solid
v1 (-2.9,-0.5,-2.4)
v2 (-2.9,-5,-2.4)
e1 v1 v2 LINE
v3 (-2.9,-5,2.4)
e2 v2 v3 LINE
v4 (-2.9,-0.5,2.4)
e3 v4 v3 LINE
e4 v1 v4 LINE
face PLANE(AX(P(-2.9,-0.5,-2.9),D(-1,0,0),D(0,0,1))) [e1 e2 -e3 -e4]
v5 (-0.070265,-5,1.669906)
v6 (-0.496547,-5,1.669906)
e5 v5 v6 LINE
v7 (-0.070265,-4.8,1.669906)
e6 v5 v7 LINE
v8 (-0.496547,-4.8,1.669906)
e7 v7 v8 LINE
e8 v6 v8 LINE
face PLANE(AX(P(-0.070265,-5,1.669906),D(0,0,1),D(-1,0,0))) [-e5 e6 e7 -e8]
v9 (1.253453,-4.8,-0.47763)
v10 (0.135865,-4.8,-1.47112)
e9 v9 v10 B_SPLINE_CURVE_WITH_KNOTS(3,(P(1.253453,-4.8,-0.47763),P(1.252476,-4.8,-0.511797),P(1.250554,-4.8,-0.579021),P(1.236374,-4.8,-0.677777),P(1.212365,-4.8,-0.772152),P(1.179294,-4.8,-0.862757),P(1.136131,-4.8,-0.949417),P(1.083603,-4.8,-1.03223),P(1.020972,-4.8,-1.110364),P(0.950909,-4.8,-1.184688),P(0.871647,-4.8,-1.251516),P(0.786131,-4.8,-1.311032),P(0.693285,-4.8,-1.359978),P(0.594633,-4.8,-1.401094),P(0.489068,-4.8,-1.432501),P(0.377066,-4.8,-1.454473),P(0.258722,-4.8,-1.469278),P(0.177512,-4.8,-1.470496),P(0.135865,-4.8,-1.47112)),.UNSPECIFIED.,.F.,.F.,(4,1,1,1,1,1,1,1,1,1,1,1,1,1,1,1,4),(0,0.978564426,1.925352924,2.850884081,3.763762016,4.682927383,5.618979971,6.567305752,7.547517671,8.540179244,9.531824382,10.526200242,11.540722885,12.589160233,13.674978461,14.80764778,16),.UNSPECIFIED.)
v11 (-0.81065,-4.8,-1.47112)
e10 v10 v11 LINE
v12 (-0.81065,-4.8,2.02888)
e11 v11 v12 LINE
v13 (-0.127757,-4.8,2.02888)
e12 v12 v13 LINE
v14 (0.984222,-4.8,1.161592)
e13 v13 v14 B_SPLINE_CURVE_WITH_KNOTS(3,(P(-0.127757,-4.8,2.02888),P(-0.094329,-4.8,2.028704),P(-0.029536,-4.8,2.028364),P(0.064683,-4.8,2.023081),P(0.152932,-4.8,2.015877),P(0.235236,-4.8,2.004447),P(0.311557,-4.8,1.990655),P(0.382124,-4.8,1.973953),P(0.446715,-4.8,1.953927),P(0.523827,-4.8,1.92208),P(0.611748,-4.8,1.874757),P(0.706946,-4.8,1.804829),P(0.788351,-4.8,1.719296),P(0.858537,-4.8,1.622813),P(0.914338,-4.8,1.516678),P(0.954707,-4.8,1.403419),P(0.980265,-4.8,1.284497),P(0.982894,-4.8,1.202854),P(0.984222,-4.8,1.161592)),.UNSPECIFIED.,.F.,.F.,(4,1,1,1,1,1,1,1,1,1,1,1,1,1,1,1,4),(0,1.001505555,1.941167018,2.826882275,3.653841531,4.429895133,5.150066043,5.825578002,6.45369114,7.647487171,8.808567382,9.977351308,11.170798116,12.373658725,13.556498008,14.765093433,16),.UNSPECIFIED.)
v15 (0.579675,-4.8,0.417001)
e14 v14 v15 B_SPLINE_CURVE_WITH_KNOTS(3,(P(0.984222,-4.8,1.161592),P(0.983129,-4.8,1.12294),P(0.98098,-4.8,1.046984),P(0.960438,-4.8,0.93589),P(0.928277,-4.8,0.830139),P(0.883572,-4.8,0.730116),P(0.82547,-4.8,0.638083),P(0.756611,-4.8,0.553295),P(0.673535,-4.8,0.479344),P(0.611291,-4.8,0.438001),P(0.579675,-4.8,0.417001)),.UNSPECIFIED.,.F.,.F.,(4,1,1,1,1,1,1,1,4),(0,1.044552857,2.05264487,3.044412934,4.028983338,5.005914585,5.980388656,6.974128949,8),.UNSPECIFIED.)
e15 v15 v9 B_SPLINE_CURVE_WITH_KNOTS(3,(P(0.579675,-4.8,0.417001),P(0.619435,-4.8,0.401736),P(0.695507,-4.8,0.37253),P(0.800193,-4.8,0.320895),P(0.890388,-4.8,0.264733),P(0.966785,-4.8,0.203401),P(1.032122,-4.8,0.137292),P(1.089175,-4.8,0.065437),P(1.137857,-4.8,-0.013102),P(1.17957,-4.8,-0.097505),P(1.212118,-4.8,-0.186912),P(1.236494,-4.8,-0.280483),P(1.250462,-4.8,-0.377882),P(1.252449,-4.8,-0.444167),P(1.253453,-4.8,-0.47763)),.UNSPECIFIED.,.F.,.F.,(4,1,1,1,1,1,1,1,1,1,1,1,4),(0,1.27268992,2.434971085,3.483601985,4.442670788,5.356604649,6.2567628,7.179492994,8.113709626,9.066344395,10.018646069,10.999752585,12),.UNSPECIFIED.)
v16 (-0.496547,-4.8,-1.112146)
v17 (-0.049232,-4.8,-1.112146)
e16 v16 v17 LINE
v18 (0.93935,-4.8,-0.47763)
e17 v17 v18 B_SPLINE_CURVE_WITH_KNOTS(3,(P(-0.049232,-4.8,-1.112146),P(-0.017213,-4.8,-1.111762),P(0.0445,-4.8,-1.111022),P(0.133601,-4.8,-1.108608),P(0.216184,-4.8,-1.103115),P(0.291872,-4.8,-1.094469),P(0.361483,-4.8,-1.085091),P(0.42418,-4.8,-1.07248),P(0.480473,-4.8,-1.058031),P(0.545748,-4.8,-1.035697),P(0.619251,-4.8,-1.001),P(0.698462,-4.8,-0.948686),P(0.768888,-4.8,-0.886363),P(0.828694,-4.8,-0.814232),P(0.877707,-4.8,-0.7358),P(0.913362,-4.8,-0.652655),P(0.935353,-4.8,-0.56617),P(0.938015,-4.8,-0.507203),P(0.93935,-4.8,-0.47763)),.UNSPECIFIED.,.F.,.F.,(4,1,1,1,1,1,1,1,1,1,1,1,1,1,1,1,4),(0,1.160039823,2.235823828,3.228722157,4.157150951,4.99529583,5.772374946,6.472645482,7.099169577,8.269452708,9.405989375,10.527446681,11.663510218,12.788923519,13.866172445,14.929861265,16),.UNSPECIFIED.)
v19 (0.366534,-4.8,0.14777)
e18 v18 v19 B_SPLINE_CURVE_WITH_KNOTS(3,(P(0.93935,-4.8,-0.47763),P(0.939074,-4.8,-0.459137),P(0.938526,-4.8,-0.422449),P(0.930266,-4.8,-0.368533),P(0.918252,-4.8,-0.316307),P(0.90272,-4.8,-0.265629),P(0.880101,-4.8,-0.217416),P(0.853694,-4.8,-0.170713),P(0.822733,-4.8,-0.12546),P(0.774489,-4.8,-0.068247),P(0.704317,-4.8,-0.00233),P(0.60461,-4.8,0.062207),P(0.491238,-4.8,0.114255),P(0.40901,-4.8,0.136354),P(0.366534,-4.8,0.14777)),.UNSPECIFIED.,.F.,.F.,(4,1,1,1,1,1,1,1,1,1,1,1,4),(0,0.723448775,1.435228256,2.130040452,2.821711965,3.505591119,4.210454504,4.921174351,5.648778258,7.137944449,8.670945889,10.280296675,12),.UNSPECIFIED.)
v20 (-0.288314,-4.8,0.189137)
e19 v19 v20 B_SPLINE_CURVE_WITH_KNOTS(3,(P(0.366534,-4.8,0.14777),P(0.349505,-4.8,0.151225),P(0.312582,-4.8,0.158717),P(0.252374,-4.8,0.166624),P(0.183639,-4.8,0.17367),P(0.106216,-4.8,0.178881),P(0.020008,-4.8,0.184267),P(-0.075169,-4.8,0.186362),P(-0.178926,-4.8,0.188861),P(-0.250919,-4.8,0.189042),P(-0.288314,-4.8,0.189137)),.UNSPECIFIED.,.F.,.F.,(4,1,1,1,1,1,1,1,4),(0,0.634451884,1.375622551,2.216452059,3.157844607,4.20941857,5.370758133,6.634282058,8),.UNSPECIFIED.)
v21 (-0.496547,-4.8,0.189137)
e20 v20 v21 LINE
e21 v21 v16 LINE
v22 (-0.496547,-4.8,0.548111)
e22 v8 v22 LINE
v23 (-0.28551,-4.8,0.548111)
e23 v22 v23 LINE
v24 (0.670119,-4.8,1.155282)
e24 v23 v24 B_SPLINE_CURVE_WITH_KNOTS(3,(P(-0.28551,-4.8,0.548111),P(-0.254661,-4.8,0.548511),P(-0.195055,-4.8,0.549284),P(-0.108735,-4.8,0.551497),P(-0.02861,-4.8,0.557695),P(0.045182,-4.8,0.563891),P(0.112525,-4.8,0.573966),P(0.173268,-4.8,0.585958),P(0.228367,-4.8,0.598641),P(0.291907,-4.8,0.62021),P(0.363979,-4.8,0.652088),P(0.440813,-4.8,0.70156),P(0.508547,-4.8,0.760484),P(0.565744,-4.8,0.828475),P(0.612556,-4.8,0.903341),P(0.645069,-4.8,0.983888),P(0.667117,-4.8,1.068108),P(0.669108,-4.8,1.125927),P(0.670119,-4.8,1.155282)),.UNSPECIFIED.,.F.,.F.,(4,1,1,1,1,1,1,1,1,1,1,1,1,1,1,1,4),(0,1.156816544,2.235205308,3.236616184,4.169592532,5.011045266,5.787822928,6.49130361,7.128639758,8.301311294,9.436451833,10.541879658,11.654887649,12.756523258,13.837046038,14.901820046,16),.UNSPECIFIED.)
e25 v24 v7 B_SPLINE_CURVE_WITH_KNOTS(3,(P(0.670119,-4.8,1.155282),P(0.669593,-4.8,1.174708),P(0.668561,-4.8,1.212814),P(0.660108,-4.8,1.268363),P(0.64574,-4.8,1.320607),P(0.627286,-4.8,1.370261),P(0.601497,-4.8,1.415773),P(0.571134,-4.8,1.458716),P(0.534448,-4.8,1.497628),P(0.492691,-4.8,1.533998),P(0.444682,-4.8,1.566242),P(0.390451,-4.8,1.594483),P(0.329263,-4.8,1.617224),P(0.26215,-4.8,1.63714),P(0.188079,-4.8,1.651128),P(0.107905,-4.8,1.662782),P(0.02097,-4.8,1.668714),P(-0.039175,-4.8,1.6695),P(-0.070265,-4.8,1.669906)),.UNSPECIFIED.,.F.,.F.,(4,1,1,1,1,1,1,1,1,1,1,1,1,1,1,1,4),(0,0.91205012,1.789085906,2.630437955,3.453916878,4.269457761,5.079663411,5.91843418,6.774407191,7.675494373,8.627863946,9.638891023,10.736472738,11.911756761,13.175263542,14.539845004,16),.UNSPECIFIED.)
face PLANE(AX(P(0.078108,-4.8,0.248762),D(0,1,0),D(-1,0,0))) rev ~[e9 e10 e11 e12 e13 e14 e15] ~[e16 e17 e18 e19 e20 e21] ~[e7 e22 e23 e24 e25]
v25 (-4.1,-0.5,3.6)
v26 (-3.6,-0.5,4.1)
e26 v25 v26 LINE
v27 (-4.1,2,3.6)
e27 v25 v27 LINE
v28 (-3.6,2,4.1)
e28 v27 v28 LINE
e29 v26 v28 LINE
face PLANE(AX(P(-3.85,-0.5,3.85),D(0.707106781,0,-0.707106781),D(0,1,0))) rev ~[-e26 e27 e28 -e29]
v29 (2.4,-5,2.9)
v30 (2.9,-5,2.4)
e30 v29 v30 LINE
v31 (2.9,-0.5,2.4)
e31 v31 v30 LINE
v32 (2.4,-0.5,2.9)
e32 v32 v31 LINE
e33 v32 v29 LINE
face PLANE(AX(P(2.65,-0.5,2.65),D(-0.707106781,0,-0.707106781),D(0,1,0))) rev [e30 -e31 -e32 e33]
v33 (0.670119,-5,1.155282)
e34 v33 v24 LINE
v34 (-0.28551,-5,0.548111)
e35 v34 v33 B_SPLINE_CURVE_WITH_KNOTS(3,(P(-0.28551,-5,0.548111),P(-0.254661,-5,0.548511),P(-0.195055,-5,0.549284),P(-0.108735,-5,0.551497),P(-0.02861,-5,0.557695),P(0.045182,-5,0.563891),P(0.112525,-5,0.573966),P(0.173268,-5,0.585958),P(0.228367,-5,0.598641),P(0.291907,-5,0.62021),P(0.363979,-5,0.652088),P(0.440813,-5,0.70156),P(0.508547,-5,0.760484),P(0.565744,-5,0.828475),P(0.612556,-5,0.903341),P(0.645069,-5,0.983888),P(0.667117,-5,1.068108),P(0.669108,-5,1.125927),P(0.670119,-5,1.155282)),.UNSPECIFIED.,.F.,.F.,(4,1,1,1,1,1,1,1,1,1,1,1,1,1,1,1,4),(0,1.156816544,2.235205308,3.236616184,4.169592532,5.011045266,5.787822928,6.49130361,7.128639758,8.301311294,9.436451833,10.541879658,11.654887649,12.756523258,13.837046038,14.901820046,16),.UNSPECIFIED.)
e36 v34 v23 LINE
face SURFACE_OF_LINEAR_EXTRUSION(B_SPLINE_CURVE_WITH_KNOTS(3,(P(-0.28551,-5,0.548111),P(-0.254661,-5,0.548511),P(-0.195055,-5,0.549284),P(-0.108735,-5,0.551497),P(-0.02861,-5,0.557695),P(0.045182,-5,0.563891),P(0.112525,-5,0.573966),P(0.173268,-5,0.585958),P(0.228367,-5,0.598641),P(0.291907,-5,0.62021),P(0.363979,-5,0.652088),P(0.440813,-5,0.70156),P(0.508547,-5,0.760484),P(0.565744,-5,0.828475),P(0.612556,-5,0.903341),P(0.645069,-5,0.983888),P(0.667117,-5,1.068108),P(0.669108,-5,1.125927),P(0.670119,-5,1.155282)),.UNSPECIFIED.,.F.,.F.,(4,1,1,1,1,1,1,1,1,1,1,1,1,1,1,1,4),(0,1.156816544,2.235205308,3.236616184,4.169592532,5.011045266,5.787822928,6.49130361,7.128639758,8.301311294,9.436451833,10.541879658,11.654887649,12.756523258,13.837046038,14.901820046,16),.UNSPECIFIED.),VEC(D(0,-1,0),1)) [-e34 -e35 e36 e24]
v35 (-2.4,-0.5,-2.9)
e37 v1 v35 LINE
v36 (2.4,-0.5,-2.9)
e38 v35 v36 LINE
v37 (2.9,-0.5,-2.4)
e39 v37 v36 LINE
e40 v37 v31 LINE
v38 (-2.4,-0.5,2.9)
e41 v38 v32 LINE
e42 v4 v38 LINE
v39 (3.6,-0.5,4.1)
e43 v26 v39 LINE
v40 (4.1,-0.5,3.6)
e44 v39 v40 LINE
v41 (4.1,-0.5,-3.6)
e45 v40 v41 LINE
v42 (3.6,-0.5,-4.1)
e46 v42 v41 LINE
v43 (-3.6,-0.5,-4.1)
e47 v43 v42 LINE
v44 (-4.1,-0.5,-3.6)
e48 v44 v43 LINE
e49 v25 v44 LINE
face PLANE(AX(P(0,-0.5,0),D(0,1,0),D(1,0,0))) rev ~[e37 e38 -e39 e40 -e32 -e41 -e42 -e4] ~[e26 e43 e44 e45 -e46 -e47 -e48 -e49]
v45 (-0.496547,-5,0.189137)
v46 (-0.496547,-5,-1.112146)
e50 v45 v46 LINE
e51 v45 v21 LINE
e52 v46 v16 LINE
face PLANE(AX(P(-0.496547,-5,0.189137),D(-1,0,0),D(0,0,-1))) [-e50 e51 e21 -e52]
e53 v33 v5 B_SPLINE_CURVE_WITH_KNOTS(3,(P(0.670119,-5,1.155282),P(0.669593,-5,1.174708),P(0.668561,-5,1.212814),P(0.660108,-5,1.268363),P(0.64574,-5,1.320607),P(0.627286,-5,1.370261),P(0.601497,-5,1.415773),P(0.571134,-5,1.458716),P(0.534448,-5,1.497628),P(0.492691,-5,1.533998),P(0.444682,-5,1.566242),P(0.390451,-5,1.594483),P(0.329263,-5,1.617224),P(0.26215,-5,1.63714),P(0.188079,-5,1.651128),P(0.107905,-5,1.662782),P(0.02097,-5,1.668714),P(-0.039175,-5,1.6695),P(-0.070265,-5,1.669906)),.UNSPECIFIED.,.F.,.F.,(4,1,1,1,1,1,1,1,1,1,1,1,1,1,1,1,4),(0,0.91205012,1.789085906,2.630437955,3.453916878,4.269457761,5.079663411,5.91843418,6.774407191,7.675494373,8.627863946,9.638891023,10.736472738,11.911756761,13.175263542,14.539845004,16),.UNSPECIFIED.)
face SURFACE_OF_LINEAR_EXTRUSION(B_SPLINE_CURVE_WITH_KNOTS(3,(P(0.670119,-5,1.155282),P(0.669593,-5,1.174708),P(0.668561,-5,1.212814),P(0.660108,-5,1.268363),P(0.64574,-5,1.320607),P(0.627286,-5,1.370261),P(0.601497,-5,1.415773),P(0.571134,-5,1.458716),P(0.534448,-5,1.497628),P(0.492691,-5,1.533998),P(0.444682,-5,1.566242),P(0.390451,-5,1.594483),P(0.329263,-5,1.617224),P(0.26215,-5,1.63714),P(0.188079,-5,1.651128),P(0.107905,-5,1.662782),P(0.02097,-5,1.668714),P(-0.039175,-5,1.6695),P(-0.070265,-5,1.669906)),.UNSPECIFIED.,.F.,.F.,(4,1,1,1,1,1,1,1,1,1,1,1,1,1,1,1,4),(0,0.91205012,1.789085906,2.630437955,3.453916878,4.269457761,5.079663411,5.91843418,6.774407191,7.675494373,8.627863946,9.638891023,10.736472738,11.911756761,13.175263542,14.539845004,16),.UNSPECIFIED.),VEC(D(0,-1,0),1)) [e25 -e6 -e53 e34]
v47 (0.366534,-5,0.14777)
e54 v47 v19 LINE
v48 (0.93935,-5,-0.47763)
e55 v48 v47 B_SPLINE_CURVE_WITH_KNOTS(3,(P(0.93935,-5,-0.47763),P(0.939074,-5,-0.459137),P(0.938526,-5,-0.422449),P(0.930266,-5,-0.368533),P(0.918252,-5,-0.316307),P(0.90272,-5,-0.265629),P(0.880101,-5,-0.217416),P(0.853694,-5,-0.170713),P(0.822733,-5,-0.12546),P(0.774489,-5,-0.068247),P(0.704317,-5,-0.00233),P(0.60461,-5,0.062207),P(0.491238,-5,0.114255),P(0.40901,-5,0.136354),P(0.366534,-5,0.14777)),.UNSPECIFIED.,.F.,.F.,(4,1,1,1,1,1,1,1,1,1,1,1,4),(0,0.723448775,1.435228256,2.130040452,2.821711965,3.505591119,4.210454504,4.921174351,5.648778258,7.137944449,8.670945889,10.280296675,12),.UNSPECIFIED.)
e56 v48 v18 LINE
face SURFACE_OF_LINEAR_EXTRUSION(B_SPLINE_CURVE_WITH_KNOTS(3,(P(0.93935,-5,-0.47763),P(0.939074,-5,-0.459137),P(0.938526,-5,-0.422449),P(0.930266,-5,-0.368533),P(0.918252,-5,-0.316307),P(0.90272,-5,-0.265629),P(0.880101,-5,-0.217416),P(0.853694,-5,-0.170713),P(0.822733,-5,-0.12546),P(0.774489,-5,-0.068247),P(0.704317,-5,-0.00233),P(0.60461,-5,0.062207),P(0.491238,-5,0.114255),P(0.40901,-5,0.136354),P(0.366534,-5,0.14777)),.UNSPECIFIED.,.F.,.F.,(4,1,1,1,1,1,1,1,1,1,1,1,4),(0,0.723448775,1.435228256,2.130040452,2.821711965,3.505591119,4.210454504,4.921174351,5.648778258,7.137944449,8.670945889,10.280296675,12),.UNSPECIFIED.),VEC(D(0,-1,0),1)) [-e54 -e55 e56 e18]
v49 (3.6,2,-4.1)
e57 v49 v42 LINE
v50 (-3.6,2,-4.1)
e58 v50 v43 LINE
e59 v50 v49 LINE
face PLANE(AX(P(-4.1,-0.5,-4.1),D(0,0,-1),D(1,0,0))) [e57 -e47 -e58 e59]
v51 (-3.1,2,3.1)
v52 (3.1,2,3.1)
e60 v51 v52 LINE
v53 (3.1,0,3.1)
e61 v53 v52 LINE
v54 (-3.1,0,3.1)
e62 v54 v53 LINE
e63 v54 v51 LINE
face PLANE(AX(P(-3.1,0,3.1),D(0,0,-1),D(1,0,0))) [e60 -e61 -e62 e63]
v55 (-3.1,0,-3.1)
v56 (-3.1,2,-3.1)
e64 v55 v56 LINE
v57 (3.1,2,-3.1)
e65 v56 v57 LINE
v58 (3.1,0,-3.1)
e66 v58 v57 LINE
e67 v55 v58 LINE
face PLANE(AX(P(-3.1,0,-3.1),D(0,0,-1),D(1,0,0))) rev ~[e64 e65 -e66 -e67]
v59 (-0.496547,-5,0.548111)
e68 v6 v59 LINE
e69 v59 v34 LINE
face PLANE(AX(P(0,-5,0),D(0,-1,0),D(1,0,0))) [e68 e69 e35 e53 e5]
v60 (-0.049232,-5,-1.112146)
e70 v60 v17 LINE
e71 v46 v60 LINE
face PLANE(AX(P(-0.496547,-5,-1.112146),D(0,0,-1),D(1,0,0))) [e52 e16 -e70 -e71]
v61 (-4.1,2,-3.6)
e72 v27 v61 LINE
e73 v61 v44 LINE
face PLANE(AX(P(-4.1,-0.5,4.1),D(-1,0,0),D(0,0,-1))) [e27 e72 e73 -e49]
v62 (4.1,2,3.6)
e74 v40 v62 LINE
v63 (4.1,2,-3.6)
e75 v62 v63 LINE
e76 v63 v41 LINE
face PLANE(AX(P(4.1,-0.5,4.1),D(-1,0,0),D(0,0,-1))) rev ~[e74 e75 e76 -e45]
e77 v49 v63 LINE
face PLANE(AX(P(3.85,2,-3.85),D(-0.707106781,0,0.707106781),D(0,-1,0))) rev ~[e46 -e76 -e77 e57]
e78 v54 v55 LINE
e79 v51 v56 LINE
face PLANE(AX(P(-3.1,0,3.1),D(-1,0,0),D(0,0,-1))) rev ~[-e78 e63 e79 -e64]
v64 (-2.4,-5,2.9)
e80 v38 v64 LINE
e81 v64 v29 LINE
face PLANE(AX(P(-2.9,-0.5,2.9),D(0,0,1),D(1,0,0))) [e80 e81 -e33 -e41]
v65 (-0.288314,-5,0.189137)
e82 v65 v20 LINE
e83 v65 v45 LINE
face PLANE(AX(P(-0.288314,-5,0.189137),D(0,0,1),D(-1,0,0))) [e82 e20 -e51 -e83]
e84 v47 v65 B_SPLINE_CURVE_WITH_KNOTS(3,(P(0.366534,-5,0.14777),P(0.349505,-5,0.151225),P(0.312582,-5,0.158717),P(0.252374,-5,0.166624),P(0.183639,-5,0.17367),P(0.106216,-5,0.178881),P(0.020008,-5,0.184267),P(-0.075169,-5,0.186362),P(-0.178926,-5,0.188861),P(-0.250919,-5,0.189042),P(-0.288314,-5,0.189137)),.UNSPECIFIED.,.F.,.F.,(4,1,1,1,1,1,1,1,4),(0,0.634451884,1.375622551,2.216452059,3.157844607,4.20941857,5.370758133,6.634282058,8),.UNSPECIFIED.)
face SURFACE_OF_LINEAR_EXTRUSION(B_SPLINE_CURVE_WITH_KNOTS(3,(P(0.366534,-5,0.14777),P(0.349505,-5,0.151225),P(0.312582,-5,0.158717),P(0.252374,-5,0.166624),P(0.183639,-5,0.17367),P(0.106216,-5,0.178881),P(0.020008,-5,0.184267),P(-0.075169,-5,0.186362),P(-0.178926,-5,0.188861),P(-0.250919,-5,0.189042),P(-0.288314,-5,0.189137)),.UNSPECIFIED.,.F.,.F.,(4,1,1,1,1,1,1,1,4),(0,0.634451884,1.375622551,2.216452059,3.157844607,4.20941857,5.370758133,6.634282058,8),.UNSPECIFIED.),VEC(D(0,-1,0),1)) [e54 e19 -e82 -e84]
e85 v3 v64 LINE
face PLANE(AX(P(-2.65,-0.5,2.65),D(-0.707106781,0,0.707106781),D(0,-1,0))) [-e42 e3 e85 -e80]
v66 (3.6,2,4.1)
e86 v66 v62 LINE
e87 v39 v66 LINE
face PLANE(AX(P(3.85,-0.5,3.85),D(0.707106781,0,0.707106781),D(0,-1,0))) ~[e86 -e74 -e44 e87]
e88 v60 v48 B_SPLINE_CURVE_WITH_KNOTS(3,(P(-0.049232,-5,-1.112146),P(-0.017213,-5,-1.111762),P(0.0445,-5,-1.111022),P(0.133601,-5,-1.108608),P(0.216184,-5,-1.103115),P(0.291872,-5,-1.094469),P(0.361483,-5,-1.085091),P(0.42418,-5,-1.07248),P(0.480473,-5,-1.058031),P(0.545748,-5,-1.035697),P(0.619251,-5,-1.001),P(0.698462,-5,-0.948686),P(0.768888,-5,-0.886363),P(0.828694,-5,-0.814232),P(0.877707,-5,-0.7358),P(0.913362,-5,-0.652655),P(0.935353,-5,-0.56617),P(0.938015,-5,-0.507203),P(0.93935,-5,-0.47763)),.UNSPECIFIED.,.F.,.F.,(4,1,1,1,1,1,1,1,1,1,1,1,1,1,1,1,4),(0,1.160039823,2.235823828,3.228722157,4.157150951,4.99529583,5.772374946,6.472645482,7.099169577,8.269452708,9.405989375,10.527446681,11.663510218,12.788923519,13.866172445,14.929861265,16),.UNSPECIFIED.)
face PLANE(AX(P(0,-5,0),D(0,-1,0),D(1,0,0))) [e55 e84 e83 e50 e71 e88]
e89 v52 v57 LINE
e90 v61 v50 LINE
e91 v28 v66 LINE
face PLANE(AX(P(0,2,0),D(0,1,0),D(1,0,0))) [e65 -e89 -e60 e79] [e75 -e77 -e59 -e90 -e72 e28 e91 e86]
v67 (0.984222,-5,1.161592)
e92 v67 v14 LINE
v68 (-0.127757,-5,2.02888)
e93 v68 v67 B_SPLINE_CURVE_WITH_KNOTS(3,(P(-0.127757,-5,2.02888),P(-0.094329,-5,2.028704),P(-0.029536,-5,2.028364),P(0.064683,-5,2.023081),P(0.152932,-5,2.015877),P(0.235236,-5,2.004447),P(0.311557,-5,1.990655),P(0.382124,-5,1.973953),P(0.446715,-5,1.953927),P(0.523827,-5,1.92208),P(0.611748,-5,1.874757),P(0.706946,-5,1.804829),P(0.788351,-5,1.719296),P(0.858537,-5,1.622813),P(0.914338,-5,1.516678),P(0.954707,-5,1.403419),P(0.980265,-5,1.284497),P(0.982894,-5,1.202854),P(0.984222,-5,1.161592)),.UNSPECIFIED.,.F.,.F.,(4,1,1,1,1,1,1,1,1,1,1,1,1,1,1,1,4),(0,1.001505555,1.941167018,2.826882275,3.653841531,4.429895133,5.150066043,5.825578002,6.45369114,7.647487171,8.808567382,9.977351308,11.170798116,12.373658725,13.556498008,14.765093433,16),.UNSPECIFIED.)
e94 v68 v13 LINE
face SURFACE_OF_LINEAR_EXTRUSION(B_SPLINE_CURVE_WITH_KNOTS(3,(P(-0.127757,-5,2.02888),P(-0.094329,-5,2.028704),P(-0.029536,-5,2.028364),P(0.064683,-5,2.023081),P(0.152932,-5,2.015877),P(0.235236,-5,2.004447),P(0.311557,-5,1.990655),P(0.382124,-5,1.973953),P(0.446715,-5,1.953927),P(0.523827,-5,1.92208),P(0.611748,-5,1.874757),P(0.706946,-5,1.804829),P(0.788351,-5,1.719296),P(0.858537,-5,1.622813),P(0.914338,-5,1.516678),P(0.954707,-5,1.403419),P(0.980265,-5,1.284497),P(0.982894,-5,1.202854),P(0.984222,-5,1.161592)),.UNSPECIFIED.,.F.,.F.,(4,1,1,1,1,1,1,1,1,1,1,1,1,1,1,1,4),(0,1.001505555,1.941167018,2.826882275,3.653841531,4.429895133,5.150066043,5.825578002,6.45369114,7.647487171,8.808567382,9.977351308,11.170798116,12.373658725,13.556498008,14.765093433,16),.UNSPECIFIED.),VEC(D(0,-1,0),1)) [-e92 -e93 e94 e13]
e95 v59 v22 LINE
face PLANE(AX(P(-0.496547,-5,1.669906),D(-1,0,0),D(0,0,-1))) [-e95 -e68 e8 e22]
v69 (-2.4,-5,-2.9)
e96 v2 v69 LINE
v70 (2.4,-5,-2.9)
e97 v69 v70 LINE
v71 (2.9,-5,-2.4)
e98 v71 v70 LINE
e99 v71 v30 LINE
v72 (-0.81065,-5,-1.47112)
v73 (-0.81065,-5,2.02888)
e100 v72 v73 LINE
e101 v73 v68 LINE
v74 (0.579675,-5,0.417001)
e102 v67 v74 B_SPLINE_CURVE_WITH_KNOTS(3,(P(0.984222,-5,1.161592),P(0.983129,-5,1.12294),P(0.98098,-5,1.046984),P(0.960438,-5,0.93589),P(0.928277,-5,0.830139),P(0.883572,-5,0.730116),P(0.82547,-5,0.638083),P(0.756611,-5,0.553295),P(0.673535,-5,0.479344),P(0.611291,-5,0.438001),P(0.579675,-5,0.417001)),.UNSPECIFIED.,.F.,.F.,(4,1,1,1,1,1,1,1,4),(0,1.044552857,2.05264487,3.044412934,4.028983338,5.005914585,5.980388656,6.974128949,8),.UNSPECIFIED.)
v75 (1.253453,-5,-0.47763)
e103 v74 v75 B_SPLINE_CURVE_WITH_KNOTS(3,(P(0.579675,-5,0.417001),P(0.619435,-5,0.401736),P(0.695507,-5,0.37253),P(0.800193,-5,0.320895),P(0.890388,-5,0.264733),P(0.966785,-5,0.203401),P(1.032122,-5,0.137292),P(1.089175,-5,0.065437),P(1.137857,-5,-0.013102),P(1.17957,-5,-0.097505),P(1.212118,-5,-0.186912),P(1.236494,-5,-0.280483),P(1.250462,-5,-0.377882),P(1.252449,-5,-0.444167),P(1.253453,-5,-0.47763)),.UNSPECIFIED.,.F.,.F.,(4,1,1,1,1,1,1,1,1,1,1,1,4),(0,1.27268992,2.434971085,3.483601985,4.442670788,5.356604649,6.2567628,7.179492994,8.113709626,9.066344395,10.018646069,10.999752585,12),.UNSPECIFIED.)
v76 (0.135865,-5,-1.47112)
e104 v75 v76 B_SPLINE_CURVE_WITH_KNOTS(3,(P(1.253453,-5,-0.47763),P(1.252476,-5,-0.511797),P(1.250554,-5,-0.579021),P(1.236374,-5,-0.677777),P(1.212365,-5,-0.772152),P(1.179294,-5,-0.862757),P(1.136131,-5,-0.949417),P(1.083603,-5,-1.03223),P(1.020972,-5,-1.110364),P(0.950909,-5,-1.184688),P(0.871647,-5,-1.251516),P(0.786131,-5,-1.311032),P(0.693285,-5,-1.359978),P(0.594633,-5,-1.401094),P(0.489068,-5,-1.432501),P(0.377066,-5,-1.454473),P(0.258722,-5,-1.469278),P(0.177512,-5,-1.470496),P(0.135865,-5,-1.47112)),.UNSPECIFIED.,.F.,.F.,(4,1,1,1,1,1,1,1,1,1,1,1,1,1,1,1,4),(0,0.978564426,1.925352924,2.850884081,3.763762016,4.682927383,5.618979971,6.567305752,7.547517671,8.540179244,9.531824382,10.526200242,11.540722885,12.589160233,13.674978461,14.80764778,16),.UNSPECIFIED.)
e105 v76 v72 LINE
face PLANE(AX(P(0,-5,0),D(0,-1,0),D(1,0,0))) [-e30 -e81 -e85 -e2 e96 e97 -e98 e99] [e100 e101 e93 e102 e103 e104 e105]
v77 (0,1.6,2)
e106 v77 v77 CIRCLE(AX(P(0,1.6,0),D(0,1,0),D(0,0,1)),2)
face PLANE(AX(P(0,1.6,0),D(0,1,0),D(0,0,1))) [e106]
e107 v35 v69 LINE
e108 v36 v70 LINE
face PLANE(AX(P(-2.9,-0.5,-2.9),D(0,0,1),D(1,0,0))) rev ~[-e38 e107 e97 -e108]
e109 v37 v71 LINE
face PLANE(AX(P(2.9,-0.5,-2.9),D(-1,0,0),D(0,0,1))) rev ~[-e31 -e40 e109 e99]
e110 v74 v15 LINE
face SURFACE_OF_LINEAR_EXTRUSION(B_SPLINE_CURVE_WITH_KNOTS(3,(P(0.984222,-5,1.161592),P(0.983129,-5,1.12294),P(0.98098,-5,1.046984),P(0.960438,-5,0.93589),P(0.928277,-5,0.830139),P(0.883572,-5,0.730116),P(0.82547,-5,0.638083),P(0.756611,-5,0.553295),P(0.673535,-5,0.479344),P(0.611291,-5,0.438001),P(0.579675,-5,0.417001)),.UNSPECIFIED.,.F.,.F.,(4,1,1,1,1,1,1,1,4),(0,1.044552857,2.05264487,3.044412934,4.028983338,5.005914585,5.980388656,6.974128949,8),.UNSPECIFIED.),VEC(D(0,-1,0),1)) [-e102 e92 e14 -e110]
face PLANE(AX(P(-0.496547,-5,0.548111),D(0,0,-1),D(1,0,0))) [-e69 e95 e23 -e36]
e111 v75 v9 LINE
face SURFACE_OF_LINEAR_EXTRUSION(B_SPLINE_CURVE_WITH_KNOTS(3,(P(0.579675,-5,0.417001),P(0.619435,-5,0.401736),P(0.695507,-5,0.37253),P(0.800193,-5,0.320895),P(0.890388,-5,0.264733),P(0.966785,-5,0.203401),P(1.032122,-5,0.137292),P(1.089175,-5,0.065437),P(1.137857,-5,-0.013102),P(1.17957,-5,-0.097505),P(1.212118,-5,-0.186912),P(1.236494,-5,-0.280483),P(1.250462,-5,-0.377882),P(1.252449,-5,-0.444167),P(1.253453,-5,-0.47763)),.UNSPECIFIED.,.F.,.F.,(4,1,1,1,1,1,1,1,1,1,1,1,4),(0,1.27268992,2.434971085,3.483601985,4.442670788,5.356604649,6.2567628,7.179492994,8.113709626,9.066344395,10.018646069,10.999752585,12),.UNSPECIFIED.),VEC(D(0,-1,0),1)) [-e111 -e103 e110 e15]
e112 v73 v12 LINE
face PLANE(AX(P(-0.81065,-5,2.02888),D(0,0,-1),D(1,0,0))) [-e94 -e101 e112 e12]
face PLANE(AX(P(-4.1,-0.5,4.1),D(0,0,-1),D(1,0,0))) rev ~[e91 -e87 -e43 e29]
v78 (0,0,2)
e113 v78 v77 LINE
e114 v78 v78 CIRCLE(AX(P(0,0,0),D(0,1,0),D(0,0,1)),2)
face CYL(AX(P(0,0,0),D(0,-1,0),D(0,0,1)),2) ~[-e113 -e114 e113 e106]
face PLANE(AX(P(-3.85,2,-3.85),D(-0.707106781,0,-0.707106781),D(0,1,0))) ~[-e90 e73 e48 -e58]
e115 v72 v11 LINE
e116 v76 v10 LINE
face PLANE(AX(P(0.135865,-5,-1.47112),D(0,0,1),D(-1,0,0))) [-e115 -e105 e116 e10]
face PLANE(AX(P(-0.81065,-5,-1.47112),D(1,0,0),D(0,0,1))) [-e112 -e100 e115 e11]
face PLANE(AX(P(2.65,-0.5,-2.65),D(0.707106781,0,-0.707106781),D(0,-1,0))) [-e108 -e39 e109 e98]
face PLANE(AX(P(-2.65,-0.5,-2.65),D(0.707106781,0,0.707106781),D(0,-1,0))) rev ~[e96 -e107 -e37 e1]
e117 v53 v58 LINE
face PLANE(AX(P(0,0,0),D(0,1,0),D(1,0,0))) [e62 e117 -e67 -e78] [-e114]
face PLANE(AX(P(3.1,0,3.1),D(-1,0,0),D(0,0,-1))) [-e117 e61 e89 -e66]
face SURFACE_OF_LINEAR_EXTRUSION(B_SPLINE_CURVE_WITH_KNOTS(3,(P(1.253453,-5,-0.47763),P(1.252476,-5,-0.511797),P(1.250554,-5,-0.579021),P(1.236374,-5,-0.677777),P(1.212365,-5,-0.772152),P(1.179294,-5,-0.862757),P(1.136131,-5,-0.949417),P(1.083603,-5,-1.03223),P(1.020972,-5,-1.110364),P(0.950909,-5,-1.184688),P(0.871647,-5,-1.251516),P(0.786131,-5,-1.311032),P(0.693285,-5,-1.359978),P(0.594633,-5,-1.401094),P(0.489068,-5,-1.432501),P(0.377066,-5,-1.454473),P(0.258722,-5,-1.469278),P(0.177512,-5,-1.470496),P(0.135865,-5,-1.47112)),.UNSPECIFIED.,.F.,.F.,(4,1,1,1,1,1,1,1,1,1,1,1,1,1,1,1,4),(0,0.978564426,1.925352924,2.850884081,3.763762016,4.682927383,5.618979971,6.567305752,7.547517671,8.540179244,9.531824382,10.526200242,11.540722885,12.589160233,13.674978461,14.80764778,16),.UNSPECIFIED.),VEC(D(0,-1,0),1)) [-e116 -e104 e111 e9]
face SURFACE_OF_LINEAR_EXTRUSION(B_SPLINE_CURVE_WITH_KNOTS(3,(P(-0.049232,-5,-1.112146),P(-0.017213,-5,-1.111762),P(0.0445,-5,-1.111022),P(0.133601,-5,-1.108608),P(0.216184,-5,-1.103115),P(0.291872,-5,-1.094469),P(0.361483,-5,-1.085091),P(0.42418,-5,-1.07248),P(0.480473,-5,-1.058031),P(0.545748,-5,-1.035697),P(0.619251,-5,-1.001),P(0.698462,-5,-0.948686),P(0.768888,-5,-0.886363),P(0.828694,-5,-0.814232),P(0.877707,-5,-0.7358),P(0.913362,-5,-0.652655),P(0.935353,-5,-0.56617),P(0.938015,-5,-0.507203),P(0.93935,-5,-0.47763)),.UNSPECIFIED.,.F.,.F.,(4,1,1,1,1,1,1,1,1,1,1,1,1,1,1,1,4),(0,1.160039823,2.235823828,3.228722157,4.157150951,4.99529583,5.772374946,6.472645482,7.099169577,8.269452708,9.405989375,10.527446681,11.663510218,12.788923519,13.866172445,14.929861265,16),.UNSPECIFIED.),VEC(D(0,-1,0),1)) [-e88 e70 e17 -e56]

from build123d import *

# Parameters (mm, degrees)
SKETCH1_R           = 2
BOSS_EXTRUDE1_DEPTH = 1.6
SKETCH1_3_W         = 8.2
SKETCH1_3_H         = 8.2
SKETCH1_3_W_2       = 6.2
SKETCH1_3_H_2       = 6.2
BOSS_EXTRUDE2_DEPTH = 2
SKETCH1_4_W         = 8.2
SKETCH1_4_H         = 8.2
BOSS_EXTRUDE3_DEPTH = 0.5
SKETCH3_W           = 5.8
SKETCH3_H           = 5.8
BOSS_EXTRUDE4_DEPTH = 4.5
CHAMFER1_SIZE       = 0.5
CUT_EXTRUDE1_DEPTH  = 0.2


with BuildPart() as part:
    # Sketch1 → Boss-Extrude1 (new body)
    with BuildSketch(Plane(origin=(0, 0, 0), x_dir=(1, 0, 0), z_dir=(0, 1, 0))):
        Circle(SKETCH1_R)
    extrude(amount=BOSS_EXTRUDE1_DEPTH)



with BuildPart() as body_2:
    # Sketch1<3> → Boss-Extrude2 (new body)
    with BuildSketch(Plane(origin=(0, 0, 0), x_dir=(1, 0, 0), z_dir=(0, 1, 0))):
        Rectangle(SKETCH1_3_W, SKETCH1_3_H)
        Rectangle(SKETCH1_3_W_2, SKETCH1_3_H_2, mode=Mode.SUBTRACT)
    extrude(amount=BOSS_EXTRUDE2_DEPTH)


with BuildPart() as part_1:
    add(part.part)

    add(body_2.part)  # Boss-Extrude3 merges body 2
    # Sketch1<4> → Boss-Extrude3 (add)
    with BuildSketch(Plane(origin=(0, 0, 0), x_dir=(1, 0, 0), z_dir=(0, 1, 0))):
        Rectangle(SKETCH1_4_W, SKETCH1_4_H)
    extrude(amount=-BOSS_EXTRUDE3_DEPTH)

    # Sketch3 → Boss-Extrude4 (add)
    with BuildSketch(Plane.XZ.offset(0.5)):
        Rectangle(SKETCH3_W, SKETCH3_H)
    extrude(amount=BOSS_EXTRUDE4_DEPTH)

    # Chamfer1
    chamfer1_edges = [part_1.edges().sort_by_distance(p)[0] for p in [
        (-4.1, 0.75, -4.1),
        (4.1, 0.75, -4.1),
        (-4.1, 0.75, 4.1),
        (4.1, 0.75, 4.1),
        (-2.9, -2.75, 2.9),
        (2.9, -2.75, 2.9),
        (-2.9, -2.75, -2.9),
        (2.9, -2.75, -2.9),
    ]]
    chamfer(chamfer1_edges, length=CHAMFER1_SIZE)

    # Sketch4 → Cut-Extrude1 (cut)
    with BuildSketch(Plane.XZ.offset(5)):
        with BuildLine():
            Line((-0.810649843, 2.028880102), (-0.127757215, 2.028880102))
            add(Edge.make_bspline(
                [(-0.127757215, 2.028880102), (-0.094328737, 2.028704351), (-0.029536026, 2.028363703), (0.064683416, 2.023080572), (0.152932226, 2.015876902), (0.235235999, 2.00444681), (0.311556701, 1.990655032), (0.382124338, 1.973953216), (0.44671451, 1.953926603), (0.523827247, 1.922080321), (0.611747908, 1.874757153), (0.7069463, 1.804828588), (0.78835054, 1.719296125), (0.858536857, 1.622813469), (0.914337977, 1.516677698), (0.954707274, 1.403418509), (0.980265149, 1.284496767), (0.982893584, 1.202853589), (0.984221952, 1.161592441)],
                knots=[0, 0, 0, 0, 1.001505555, 1.941167018, 2.826882275, 3.653841531, 4.429895133, 5.150066043, 5.825578002, 6.45369114, 7.647487171, 8.808567382, 9.977351308, 11.170798116, 12.373658725, 13.556498008, 14.765093433, 16, 16, 16, 16], degree=3))
            add(Edge.make_bspline(
                [(0.984221952, 1.161592441), (0.983128733, 1.122939886), (0.980980456, 1.046983969), (0.960437697, 0.935889859), (0.928277028, 0.830138641), (0.883571779, 0.730116255), (0.825469783, 0.638082642), (0.756611464, 0.553295376), (0.673534662, 0.479344319), (0.611291422, 0.438001416), (0.579674676, 0.417001095)],
                knots=[0, 0, 0, 0, 1.044552857, 2.05264487, 3.044412934, 4.028983338, 5.005914585, 5.980388656, 6.974128949, 8, 8, 8, 8], degree=3))
            add(Edge.make_bspline(
                [(0.579674676, 0.417001095), (0.619435104, 0.401736096), (0.695506651, 0.372530372), (0.800192664, 0.320894908), (0.890387509, 0.264732798), (0.966784655, 0.203400947), (1.03212231, 0.137292137), (1.089175251, 0.065437022), (1.137856625, -0.013101736), (1.179569549, -0.097505271), (1.212118305, -0.186911739), (1.236494209, -0.280482515), (1.250461658, -0.377882071), (1.2524493, -0.44416745), (1.253452721, -0.477630315)],
                knots=[0, 0, 0, 0, 1.27268992, 2.434971085, 3.483601985, 4.442670788, 5.356604649, 6.2567628, 7.179492994, 8.113709626, 9.066344395, 10.018646069, 10.999752585, 12, 12, 12, 12], degree=3))
            add(Edge.make_bspline(
                [(1.253452721, -0.477630315), (1.252475875, -0.511797187), (1.250553903, -0.579021465), (1.236373931, -0.6777766), (1.212364824, -0.772151546), (1.179293678, -0.862756729), (1.136131363, -0.949416864), (1.083603399, -1.032230128), (1.020971835, -1.110364458), (0.950908966, -1.184688081), (0.871646821, -1.251515869), (0.786131066, -1.311031575), (0.693284746, -1.359977637), (0.594632752, -1.401093659), (0.489068436, -1.432500857), (0.377065829, -1.454473431), (0.258721527, -1.469278468), (0.177511776, -1.470495673), (0.13586458, -1.471119898)],
                knots=[0, 0, 0, 0, 0.978564426, 1.925352924, 2.850884081, 3.763762016, 4.682927383, 5.618979971, 6.567305752, 7.547517671, 8.540179244, 9.531824382, 10.526200242, 11.540722885, 12.589160233, 13.674978461, 14.80764778, 16, 16, 16, 16], degree=3))
            Line((0.13586458, -1.471119898), (-0.810649843, -1.471119898))
            Line((-0.810649843, -1.471119898), (-0.810649843, 2.028880102))
        make_face()
        with BuildLine():
            Line((-0.496547279, 1.669905743), (-0.496547279, 0.548110871))
            Line((-0.496547279, 0.548110871), (-0.285509619, 0.548110871))
            add(Edge.make_bspline(
                [(-0.285509619, 0.548110871), (-0.254660823, 0.548510794), (-0.195054664, 0.549283527), (-0.108734767, 0.551497044), (-0.028609749, 0.557695087), (0.045182084, 0.563891349), (0.112524528, 0.573965937), (0.173268389, 0.58595806), (0.228366986, 0.598640965), (0.291906532, 0.620210452), (0.36397948, 0.652088127), (0.440812584, 0.701559963), (0.508547054, 0.760484316), (0.565744242, 0.828475278), (0.612555712, 0.903341464), (0.645069427, 0.983888344), (0.667116712, 1.068108476), (0.669108243, 1.125926729), (0.670119388, 1.155282345)],
                knots=[0, 0, 0, 0, 1.156816544, 2.235205308, 3.236616184, 4.169592532, 5.011045266, 5.787822928, 6.49130361, 7.128639758, 8.301311294, 9.436451833, 10.541879658, 11.654887649, 12.756523258, 13.837046038, 14.901820046, 16, 16, 16, 16], degree=3))
            add(Edge.make_bspline(
                [(0.670119388, 1.155282345), (0.669593208, 1.174708117), (0.668561048, 1.212813889), (0.660107745, 1.268363243), (0.645740171, 1.320606996), (0.627285877, 1.370261106), (0.601497189, 1.415772956), (0.571133725, 1.458716152), (0.534448035, 1.49762827), (0.492690722, 1.533997769), (0.4446821, 1.566242296), (0.390450808, 1.59448306), (0.329263131, 1.617223836), (0.262150276, 1.637139989), (0.188079188, 1.651128283), (0.107904635, 1.66278167), (0.020969916, 1.668714412), (-0.039175187, 1.669499775), (-0.070265228, 1.669905743)],
                knots=[0, 0, 0, 0, 0.91205012, 1.789085906, 2.630437955, 3.453916878, 4.269457761, 5.079663411, 5.91843418, 6.774407191, 7.675494373, 8.627863946, 9.638891023, 10.736472738, 11.911756761, 13.175263542, 14.539845004, 16, 16, 16, 16], degree=3))
            Line((-0.070265228, 1.669905743), (-0.496547279, 1.669905743))
        make_face(mode=Mode.SUBTRACT)
        with BuildLine():
            Line((-0.496547279, 0.189136512), (-0.496547279, -1.112145539))
            Line((-0.496547279, -1.112145539), (-0.049231574, -1.112145539))
            add(Edge.make_bspline(
                [(-0.049231574, -1.112145539), (-0.017212648, -1.111761792), (0.044499611, -1.111022169), (0.133600841, -1.108607615), (0.216183945, -1.103115339), (0.29187208, -1.09446949), (0.361482533, -1.08509104), (0.424180236, -1.072479759), (0.480473429, -1.058030799), (0.545747737, -1.035696627), (0.619251245, -1.001000156), (0.698462102, -0.948685929), (0.76888832, -0.886362622), (0.828693579, -0.814231707), (0.877706568, -0.73580038), (0.913362023, -0.65265503), (0.93535288, -0.566169503), (0.938015049, -0.507202791), (0.939350157, -0.477630315)],
                knots=[0, 0, 0, 0, 1.160039823, 2.235823828, 3.228722157, 4.157150951, 4.99529583, 5.772374946, 6.472645482, 7.099169577, 8.269452708, 9.405989375, 10.527446681, 11.663510218, 12.788923519, 13.866172445, 14.929861265, 16, 16, 16, 16], degree=3))
            add(Edge.make_bspline(
                [(0.939350157, -0.477630315), (0.939074053, -0.459136974), (0.938526298, -0.422448593), (0.930265683, -0.368532773), (0.918251813, -0.3163069), (0.902720379, -0.26562916), (0.880100912, -0.217415783), (0.853694367, -0.170713224), (0.822732965, -0.125459744), (0.774488799, -0.068247491), (0.704316815, -0.002330478), (0.604610039, 0.062207024), (0.491237741, 0.114254831), (0.409010249, 0.136354308), (0.366533651, 0.147770326)],
                knots=[0, 0, 0, 0, 0.723448775, 1.435228256, 2.130040452, 2.821711965, 3.505591119, 4.210454504, 4.921174351, 5.648778258, 7.137944449, 8.670945889, 10.280296675, 12, 12, 12, 12], degree=3))
            add(Edge.make_bspline(
                [(0.366533651, 0.147770326), (0.349504555, 0.15122541), (0.312581962, 0.158716745), (0.252374382, 0.166624448), (0.183638513, 0.173669508), (0.106215636, 0.178880666), (0.020007795, 0.184267209), (-0.075169124, 0.18636203), (-0.178926439, 0.18886129), (-0.250918811, 0.189042425), (-0.288314106, 0.189136512)],
                knots=[0, 0, 0, 0, 0.634451884, 1.375622551, 2.216452059, 3.157844607, 4.20941857, 5.370758133, 6.634282058, 8, 8, 8, 8], degree=3))
            Line((-0.288314106, 0.189136512), (-0.496547279, 0.189136512))
        make_face(mode=Mode.SUBTRACT)
    extrude(amount=-CUT_EXTRUDE1_DEPTH, mode=Mode.SUBTRACT)


solid = part_1.part
